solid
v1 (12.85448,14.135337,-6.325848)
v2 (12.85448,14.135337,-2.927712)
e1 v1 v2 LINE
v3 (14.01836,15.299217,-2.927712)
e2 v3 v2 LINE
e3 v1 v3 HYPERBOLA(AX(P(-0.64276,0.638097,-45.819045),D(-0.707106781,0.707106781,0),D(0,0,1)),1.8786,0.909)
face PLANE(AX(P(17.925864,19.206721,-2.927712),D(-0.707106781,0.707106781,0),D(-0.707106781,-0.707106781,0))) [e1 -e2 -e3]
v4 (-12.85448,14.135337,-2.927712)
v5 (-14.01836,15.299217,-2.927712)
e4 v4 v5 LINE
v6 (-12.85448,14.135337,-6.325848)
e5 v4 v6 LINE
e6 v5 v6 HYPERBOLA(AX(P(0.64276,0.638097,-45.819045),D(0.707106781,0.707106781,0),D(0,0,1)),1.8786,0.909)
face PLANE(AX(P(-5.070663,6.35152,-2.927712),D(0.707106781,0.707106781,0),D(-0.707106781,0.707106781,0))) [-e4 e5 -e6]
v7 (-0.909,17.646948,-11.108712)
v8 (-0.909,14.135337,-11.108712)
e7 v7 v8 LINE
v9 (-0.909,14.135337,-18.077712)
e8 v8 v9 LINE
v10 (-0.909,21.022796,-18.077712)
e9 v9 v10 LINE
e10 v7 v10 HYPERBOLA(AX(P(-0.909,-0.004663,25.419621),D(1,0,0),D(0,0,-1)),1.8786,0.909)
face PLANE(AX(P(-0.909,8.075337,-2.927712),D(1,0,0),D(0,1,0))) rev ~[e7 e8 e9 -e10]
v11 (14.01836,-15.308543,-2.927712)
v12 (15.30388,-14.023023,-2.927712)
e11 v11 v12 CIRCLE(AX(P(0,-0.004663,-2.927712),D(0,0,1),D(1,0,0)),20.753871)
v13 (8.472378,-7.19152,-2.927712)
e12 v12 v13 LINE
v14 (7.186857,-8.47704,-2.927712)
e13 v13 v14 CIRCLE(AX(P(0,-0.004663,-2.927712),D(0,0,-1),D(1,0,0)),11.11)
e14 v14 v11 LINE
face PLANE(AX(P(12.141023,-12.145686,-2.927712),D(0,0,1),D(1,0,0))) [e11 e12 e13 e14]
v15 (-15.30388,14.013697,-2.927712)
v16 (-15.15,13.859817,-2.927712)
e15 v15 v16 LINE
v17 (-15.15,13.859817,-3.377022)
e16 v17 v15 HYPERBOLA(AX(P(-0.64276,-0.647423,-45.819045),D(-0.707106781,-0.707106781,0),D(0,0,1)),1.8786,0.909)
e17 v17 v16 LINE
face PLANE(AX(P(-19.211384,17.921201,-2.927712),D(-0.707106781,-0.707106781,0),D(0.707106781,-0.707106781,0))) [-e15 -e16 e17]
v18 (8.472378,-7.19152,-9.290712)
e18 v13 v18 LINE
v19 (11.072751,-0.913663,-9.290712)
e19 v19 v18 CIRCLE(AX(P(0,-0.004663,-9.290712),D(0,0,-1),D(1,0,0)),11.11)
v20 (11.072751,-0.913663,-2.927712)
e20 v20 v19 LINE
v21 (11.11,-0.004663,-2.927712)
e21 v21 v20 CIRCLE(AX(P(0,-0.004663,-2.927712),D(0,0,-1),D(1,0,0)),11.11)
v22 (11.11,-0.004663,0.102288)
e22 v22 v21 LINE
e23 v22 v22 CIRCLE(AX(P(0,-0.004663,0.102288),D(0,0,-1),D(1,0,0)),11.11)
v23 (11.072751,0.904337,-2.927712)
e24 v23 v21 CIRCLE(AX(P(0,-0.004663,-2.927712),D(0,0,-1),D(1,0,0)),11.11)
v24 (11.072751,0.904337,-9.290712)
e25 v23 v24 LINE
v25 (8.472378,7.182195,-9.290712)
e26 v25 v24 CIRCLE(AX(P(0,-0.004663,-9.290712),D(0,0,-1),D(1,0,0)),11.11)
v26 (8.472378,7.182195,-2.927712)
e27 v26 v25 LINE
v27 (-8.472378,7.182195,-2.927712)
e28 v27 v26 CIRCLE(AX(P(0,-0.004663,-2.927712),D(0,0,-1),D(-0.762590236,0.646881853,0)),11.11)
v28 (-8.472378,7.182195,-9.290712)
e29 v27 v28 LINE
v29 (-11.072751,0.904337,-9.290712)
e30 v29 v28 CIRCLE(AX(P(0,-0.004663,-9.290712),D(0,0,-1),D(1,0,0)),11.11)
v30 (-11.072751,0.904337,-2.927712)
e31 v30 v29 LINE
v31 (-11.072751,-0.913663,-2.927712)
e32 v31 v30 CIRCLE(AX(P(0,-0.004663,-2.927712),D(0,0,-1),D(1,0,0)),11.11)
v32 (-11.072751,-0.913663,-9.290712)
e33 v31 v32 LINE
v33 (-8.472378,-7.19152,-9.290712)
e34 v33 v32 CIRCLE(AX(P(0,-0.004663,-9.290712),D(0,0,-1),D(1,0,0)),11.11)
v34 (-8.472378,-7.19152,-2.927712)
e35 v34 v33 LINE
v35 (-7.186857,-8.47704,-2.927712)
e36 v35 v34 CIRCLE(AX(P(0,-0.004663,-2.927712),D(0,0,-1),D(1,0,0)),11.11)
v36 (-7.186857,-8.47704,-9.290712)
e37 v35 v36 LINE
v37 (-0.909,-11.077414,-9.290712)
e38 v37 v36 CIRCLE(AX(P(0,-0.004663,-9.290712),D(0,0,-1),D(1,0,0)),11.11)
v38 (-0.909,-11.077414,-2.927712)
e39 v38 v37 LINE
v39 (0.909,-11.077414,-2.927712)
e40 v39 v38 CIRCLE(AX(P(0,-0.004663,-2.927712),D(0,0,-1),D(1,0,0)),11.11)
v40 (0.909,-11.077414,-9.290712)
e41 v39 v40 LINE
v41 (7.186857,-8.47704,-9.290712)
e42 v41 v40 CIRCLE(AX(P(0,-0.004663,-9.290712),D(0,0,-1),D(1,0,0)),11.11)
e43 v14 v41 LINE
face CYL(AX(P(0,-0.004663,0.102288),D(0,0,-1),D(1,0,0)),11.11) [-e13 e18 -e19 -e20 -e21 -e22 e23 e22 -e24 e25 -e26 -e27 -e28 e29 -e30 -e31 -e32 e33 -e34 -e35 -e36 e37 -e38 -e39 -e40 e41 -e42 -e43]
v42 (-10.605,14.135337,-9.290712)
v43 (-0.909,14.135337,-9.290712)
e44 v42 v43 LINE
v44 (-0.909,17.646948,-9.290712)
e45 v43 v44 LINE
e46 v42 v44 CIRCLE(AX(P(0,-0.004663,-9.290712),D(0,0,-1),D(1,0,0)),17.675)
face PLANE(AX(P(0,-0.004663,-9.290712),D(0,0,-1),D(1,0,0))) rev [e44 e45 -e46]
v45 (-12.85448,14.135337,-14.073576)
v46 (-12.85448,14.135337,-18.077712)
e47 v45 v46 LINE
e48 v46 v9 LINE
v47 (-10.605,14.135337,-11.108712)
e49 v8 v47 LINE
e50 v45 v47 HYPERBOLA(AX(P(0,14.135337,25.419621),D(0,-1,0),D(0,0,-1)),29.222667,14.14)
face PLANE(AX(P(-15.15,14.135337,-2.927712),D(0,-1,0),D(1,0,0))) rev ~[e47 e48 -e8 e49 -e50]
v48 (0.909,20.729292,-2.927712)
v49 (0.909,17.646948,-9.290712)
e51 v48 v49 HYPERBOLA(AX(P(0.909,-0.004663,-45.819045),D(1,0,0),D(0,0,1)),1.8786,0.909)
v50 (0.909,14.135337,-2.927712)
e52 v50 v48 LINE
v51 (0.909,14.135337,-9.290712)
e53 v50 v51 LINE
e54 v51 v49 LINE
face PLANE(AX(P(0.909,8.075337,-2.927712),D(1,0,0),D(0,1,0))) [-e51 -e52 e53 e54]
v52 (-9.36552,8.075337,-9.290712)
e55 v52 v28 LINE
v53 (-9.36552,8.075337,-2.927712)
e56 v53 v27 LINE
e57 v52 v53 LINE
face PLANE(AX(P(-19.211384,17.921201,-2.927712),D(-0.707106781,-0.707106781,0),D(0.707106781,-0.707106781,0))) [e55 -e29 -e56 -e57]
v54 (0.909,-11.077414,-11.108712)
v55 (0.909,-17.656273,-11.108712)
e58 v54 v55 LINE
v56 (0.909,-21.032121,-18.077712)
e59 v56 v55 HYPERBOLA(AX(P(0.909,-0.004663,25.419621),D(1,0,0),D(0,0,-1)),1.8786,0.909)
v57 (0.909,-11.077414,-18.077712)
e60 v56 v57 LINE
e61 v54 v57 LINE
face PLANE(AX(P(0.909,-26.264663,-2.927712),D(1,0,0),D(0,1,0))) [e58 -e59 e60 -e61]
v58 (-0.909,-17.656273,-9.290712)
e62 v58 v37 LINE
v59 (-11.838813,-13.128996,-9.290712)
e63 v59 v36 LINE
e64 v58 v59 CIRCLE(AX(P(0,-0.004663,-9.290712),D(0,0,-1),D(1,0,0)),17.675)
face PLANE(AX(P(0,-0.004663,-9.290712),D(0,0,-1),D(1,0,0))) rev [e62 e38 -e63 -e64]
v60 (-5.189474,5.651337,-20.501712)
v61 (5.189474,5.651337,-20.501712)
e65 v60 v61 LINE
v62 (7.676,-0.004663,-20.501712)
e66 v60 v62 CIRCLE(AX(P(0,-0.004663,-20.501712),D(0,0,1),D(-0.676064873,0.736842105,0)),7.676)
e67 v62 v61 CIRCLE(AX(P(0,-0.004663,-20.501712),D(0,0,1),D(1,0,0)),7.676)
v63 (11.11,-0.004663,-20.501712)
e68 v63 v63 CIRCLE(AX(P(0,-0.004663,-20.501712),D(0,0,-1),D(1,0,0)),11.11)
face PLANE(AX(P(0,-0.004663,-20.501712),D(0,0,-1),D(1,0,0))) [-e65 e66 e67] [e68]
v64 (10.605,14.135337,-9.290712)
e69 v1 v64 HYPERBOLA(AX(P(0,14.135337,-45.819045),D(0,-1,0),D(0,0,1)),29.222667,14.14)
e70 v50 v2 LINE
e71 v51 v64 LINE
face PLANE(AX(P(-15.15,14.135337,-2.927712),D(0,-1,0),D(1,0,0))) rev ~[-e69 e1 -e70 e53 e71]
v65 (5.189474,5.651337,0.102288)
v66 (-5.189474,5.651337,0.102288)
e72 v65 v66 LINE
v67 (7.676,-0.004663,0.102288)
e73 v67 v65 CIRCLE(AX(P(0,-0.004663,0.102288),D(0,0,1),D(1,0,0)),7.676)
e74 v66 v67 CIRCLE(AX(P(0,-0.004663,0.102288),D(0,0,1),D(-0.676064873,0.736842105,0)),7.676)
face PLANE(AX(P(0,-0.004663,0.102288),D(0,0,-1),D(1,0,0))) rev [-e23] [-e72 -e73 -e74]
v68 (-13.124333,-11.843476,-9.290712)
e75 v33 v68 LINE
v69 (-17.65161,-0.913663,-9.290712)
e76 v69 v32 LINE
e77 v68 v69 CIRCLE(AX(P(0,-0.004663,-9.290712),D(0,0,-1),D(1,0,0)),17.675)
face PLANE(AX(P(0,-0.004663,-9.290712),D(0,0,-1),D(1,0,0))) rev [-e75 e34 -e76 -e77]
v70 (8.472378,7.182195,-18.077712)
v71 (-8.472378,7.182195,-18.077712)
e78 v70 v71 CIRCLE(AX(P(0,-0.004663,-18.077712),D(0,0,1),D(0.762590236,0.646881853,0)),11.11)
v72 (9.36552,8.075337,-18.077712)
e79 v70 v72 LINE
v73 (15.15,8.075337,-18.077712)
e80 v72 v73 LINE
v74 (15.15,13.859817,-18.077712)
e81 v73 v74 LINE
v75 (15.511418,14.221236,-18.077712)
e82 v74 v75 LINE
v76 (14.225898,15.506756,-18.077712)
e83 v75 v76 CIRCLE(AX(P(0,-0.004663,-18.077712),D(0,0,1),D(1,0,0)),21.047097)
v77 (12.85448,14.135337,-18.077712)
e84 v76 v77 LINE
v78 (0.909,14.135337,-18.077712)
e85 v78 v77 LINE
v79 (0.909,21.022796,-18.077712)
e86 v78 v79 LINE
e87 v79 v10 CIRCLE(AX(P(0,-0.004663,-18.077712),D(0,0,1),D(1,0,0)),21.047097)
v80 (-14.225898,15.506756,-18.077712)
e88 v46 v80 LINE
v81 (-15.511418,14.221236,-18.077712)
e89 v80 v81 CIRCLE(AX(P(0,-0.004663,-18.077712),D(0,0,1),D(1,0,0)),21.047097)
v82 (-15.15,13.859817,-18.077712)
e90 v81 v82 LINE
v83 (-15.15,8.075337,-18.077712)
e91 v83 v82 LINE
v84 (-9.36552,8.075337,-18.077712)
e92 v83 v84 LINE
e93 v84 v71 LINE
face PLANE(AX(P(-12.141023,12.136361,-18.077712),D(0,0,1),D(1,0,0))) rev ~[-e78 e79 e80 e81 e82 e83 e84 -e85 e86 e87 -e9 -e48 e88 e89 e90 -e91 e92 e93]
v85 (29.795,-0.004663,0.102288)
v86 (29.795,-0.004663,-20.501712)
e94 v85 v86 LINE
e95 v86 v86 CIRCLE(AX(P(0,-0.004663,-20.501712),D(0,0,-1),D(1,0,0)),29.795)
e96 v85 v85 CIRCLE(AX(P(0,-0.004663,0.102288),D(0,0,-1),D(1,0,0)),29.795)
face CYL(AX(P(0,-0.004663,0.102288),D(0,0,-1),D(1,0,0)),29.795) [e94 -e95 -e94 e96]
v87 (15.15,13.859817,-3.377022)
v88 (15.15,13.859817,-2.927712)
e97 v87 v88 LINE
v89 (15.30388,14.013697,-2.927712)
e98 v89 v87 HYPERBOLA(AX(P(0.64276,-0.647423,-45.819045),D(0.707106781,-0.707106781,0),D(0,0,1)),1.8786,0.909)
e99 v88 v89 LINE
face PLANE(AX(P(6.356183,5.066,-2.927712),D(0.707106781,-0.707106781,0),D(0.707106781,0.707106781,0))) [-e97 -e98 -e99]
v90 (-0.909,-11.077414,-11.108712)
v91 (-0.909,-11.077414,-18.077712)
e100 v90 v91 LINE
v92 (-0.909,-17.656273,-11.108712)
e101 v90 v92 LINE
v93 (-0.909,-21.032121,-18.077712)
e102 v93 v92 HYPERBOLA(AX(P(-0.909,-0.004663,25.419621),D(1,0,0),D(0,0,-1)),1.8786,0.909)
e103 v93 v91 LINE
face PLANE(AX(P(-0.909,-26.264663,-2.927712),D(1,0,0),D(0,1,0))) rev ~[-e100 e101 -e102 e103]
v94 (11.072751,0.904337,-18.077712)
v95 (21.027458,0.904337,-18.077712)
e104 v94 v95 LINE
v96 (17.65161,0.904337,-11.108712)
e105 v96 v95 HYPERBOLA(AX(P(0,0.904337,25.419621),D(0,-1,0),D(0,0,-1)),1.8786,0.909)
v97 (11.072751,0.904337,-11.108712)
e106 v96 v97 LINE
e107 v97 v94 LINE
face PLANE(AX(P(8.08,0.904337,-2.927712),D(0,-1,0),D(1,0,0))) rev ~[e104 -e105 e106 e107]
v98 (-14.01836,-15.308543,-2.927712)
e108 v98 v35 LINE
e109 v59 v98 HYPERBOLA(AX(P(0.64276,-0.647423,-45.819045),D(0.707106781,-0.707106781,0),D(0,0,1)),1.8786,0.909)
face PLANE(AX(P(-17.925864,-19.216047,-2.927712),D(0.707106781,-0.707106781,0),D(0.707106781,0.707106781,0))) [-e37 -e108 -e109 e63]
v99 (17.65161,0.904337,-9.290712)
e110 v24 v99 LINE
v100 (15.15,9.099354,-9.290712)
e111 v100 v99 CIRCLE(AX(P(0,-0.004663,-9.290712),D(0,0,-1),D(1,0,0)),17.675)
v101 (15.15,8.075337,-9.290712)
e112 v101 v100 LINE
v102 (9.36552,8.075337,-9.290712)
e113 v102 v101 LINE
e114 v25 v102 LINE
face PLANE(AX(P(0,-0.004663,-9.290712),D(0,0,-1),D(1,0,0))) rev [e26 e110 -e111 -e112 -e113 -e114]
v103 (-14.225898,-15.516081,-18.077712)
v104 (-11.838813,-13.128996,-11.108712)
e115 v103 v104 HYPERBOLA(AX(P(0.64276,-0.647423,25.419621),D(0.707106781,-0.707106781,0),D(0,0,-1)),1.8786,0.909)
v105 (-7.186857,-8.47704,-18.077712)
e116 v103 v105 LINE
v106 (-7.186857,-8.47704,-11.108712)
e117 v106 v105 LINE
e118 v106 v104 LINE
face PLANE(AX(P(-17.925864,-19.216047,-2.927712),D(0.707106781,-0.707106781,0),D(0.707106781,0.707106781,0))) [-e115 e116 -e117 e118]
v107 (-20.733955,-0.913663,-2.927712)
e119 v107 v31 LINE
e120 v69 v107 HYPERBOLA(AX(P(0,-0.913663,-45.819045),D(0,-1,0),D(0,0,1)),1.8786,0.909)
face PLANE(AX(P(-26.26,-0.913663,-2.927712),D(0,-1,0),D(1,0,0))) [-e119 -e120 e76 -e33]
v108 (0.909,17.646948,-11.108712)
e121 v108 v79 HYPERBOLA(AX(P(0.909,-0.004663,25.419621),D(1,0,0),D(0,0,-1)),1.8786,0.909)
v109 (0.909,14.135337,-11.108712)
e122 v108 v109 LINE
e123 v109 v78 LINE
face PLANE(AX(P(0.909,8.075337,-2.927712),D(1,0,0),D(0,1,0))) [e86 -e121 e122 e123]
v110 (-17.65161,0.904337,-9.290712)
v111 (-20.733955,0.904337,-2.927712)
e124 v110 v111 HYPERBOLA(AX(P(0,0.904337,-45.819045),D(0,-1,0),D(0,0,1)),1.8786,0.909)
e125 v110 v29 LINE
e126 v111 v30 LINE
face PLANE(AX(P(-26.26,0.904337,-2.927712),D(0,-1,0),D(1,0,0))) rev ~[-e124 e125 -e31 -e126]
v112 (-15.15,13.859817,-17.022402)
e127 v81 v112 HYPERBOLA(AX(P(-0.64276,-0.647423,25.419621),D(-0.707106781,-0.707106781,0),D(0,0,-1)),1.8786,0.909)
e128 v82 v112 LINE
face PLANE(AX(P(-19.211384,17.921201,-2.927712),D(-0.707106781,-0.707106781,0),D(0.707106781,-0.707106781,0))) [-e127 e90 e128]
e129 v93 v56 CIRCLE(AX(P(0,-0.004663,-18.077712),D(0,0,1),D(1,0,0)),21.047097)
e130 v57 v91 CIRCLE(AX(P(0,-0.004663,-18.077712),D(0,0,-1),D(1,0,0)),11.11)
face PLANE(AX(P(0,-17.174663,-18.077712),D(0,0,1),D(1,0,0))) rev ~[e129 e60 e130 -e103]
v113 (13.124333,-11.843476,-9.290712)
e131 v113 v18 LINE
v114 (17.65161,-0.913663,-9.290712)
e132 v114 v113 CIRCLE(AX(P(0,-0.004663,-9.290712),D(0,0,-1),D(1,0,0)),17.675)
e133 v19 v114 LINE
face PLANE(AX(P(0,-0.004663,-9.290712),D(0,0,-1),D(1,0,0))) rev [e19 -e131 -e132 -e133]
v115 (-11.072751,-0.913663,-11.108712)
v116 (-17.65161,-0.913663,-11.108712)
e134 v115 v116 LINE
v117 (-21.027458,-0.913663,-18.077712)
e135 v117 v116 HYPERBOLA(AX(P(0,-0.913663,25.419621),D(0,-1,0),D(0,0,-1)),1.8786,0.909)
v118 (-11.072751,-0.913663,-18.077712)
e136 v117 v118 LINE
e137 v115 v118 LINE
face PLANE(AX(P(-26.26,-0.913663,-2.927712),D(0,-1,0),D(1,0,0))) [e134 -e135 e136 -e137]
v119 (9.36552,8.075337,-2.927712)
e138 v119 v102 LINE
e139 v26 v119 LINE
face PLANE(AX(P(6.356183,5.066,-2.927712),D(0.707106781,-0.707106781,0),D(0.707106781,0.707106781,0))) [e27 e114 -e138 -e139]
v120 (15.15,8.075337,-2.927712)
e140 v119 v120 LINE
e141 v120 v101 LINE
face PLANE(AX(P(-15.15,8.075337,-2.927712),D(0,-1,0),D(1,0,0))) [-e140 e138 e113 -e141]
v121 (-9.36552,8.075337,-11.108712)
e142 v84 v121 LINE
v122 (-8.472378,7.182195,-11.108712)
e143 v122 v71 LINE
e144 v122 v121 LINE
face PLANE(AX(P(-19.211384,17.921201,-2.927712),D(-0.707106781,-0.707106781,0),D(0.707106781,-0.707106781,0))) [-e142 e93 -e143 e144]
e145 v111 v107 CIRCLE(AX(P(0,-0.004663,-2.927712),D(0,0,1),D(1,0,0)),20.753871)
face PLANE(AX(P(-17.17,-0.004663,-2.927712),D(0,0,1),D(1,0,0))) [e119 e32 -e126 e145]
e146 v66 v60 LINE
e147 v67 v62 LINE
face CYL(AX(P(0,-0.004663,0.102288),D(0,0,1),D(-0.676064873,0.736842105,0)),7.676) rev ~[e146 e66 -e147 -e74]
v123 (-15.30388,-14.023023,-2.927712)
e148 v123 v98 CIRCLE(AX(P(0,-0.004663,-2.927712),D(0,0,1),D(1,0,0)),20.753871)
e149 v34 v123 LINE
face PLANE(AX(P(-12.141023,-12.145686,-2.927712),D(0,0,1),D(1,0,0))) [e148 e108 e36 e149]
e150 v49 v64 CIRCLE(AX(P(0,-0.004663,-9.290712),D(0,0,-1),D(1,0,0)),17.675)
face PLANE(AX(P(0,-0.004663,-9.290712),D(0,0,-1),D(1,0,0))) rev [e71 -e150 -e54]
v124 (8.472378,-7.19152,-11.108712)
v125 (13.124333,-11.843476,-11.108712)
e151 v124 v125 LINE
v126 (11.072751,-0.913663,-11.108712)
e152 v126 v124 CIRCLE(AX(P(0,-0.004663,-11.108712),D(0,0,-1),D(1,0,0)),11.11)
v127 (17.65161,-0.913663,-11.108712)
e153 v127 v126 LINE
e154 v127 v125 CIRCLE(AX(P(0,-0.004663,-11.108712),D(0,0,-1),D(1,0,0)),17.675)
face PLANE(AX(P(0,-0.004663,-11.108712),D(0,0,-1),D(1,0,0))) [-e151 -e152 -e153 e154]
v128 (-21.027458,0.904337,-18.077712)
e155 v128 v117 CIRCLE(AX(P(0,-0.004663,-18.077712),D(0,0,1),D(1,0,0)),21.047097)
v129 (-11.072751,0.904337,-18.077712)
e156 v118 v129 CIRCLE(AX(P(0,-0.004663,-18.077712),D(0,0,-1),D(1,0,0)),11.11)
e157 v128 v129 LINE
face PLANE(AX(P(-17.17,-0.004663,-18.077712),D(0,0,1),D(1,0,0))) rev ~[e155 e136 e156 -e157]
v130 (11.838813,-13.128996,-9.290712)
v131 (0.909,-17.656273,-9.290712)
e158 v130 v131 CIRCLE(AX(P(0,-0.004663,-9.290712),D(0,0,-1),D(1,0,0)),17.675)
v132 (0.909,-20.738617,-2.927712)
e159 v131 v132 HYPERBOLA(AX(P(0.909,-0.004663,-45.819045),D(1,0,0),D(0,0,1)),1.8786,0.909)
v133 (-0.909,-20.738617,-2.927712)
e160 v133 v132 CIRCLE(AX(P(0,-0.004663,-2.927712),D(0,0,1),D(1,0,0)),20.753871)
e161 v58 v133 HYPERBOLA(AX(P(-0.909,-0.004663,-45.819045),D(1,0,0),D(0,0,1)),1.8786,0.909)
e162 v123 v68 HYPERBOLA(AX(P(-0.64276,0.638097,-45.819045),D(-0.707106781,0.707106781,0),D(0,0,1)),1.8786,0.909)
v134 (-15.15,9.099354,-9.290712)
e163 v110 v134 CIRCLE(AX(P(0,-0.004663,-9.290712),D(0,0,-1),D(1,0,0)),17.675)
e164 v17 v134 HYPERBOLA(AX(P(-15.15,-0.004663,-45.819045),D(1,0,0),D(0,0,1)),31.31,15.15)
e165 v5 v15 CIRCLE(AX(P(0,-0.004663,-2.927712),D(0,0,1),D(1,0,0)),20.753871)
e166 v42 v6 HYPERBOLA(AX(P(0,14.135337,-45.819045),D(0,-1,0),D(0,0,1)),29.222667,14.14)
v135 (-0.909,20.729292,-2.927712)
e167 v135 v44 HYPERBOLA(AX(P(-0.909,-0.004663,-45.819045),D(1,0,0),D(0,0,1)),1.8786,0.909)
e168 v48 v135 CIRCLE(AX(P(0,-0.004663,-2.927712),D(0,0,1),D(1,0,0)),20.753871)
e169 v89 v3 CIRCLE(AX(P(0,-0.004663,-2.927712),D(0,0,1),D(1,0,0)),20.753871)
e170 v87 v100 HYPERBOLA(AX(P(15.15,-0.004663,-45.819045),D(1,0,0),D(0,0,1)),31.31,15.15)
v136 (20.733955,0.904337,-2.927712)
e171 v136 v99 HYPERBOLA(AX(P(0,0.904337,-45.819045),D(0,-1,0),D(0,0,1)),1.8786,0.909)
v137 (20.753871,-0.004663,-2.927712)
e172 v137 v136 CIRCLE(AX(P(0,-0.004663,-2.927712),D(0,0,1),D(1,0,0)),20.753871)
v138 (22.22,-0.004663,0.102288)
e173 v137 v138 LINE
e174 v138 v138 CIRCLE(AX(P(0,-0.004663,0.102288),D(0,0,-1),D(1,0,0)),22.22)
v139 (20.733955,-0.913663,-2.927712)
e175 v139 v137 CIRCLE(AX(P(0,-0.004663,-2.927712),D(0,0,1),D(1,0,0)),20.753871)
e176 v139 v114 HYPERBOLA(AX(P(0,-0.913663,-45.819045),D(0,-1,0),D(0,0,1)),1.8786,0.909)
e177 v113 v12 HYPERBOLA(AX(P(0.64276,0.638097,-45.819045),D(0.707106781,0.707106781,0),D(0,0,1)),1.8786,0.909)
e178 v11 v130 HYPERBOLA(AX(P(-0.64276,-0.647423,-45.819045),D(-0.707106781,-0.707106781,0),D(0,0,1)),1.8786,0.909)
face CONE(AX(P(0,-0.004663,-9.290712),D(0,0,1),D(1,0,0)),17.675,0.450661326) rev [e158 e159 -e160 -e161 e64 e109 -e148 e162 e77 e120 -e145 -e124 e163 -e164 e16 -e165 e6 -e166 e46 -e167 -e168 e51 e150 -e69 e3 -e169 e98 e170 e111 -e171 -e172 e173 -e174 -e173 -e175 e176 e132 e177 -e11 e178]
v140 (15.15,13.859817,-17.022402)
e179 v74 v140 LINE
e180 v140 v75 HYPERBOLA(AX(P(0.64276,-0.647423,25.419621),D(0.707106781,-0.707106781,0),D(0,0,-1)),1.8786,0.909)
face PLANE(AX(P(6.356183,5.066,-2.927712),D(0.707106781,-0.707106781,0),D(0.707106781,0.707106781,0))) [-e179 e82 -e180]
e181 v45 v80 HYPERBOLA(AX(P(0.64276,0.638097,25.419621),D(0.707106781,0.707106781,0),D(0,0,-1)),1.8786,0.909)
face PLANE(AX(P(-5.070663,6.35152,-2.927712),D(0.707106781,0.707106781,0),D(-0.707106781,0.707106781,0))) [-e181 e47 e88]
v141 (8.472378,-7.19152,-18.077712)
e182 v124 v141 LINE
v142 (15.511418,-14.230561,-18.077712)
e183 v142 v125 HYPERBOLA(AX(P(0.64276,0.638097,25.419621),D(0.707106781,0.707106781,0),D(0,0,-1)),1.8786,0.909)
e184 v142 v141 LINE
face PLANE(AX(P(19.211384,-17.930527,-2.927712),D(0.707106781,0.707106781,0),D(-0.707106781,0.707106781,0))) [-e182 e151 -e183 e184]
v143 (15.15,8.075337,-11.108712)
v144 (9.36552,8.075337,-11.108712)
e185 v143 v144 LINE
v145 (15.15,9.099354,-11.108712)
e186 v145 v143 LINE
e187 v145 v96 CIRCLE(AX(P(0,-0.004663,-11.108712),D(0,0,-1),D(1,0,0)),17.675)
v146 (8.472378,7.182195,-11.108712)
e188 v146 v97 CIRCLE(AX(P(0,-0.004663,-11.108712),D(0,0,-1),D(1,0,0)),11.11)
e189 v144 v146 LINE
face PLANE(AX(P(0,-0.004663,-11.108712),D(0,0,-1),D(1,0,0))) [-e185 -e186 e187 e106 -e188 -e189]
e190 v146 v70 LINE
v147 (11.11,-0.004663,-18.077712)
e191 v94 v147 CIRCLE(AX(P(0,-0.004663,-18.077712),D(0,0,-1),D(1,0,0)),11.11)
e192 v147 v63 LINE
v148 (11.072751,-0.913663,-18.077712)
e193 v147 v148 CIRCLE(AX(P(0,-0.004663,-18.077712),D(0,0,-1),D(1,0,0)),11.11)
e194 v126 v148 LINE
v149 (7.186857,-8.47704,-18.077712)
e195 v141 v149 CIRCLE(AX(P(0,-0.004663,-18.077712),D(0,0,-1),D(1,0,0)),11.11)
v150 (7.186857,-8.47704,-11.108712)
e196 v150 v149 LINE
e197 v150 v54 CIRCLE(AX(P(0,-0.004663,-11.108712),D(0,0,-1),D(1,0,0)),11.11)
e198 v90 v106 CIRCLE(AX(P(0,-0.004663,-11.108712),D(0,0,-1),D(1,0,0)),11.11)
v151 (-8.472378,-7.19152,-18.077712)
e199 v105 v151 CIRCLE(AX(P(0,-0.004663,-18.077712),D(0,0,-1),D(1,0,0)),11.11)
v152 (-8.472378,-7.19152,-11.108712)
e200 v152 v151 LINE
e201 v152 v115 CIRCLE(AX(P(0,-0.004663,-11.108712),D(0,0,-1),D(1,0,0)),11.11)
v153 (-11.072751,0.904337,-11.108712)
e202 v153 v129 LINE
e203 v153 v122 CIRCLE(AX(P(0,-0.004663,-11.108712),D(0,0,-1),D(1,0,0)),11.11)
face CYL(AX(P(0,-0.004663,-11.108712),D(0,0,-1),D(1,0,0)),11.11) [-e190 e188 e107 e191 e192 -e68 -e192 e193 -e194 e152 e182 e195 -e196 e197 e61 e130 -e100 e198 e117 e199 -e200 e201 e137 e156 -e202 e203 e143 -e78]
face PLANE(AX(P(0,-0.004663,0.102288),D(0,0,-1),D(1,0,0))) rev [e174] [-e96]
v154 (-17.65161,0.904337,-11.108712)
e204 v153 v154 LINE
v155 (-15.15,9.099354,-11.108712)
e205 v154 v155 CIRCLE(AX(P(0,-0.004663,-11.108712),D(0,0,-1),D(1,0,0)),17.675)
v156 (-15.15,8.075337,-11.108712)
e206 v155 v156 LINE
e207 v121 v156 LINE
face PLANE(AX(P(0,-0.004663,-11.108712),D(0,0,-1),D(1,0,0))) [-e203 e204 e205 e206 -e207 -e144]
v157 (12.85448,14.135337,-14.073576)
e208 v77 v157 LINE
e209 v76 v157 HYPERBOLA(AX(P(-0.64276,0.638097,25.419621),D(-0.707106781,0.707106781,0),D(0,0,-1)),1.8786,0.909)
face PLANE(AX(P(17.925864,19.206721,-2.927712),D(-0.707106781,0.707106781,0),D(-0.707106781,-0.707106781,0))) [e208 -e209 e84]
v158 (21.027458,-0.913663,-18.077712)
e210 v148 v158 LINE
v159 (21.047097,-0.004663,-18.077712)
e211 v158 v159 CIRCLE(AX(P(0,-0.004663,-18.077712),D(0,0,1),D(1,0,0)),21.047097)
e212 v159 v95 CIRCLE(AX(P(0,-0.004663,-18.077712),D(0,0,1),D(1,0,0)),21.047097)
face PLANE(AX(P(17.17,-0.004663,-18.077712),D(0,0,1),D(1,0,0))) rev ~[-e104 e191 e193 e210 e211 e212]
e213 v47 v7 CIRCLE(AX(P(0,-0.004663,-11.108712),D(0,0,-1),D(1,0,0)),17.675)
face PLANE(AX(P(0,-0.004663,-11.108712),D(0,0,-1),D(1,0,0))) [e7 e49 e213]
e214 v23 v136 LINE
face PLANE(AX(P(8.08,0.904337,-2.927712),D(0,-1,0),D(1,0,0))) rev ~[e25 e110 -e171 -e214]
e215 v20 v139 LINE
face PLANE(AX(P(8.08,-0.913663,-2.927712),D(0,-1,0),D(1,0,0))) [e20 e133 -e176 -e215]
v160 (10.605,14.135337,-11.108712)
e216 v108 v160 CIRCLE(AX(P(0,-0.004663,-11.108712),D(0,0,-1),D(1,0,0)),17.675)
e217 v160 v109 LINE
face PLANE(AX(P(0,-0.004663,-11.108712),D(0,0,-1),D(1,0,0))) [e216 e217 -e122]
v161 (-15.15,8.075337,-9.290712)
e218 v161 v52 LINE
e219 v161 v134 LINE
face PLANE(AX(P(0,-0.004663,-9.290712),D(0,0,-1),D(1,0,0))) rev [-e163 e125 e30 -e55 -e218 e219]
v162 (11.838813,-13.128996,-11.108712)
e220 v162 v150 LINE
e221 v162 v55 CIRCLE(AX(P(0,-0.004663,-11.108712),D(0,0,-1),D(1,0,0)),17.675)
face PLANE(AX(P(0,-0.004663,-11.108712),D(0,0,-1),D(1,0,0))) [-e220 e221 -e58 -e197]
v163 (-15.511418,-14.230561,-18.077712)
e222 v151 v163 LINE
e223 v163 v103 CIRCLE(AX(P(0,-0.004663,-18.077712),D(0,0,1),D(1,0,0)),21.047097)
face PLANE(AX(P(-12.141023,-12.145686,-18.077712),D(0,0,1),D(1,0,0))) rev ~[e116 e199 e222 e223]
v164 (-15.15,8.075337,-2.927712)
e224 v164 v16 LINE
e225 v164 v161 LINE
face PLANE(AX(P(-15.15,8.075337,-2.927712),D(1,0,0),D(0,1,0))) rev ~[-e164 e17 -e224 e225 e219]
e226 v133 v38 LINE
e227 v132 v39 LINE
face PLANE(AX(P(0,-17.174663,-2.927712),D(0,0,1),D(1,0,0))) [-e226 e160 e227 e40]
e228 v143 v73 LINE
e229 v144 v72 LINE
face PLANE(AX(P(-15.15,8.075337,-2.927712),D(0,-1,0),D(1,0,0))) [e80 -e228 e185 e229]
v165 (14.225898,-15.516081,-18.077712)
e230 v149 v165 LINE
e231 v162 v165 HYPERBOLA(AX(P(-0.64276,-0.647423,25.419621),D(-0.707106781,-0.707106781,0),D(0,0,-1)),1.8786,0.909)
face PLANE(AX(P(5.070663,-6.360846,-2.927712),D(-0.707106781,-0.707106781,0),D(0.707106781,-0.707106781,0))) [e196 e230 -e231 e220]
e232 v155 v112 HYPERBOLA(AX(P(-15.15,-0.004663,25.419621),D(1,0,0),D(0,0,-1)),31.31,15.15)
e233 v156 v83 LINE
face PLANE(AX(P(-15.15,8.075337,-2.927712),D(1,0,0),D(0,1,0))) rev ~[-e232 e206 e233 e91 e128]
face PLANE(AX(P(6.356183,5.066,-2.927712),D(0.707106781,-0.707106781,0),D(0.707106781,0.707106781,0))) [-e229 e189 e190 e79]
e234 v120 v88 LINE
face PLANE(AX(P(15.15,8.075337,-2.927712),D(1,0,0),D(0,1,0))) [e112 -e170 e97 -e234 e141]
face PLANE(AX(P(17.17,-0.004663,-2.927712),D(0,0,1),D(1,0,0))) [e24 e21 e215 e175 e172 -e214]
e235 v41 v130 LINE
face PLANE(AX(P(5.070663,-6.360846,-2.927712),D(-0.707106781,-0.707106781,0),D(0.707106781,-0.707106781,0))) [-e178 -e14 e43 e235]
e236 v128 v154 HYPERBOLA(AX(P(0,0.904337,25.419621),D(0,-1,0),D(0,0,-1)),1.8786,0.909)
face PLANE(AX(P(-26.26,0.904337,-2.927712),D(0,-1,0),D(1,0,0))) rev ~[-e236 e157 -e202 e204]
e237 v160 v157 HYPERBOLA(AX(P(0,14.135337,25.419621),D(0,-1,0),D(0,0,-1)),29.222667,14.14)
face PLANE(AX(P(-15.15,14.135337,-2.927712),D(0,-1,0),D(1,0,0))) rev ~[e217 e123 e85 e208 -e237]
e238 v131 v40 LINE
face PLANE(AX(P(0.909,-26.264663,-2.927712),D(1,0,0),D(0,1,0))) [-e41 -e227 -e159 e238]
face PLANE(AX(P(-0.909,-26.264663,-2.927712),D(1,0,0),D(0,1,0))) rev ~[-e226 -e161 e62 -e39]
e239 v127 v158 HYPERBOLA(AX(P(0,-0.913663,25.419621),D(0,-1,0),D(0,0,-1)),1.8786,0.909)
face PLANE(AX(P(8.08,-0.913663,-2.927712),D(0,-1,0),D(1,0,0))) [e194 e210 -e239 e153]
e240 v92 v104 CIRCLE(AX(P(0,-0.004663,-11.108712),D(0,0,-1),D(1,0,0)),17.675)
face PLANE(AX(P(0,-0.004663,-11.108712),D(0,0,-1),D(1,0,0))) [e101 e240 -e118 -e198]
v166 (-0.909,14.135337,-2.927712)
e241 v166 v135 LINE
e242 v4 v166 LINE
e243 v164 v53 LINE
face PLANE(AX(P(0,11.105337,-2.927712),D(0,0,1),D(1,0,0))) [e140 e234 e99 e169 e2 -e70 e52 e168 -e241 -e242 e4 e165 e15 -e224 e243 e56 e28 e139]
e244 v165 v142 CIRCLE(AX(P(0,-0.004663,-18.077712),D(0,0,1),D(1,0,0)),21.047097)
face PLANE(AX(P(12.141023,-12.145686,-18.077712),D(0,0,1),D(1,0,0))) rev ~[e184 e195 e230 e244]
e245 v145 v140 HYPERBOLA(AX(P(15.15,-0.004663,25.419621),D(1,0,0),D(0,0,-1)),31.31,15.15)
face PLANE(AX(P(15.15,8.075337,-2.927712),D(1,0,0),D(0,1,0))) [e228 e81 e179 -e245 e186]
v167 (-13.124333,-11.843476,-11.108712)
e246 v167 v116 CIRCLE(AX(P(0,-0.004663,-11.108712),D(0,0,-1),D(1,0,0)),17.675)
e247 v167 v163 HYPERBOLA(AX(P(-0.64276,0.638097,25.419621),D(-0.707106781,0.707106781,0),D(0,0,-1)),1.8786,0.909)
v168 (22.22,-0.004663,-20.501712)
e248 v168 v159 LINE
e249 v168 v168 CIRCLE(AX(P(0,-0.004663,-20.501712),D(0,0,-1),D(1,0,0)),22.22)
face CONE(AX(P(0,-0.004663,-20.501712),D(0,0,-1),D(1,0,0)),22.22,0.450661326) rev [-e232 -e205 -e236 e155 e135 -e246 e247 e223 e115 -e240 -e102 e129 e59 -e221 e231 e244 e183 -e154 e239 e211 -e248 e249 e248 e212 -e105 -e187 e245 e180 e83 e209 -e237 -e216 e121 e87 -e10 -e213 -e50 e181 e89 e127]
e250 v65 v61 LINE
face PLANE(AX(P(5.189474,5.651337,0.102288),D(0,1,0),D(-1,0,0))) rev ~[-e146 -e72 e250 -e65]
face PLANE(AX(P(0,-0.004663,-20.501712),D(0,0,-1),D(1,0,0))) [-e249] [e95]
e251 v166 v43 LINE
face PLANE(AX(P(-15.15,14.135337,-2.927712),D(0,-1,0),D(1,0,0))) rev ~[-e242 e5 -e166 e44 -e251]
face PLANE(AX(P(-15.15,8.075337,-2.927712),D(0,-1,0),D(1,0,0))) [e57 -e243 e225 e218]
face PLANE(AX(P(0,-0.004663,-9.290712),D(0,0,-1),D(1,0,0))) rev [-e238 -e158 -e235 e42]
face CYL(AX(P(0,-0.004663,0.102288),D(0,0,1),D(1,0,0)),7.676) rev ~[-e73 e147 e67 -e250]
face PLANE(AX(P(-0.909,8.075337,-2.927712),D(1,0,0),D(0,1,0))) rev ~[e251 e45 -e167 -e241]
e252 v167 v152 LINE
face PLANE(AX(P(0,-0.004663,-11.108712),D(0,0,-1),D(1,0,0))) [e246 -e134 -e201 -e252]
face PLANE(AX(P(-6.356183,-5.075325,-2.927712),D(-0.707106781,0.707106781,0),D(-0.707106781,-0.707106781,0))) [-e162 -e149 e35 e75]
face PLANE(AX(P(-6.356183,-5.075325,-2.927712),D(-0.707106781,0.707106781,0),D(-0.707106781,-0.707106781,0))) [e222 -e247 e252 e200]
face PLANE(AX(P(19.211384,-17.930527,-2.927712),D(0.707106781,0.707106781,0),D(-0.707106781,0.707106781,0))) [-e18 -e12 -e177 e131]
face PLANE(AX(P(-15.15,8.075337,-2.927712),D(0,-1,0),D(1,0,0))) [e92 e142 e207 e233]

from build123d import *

# Parameters (mm, degrees)
SKETCH_2_R          = 5
CUT_EXTRUDE_1_DEPTH = 47.439853574
SKETCH_3_W          = 1.8
SKETCH_3_H          = 18
SKETCH_3_W_2        = 18
SKETCH_3_H_2        = 1.8
EXTRUDE_1_DEPTH     = 15
SKETCH_4_W          = 30
SKETCH_4_H          = 6
EXTRUDE_2_DEPTH     = 15
SCALE_1_SCALE       = 1.01


with BuildPart() as part:
    # Эскиз1 → Повернуть1 (revolve)
    with BuildSketch(Plane(origin=(0, 0, 0), x_dir=(1, 0, 0), z_dir=(0, 1, 0)), mode=Mode.PRIVATE) as revolve_1_sk:
        Polygon((-5, 0), (-11, 0), (-11, 9.3), (-17.5, 9.3), (-22, 0), (-29.5, 0), (-29.5, 20.4), (-22, 20.4), (-17.5, 11.1), (-11, 11.1), (-11, 20.4), (-5, 20.4), align=None)
    revolve(revolve_1_sk.sketch.rotate(Axis((0, 0, 0), (0, 0, -1)), 180), axis=Axis((0, 0, 0), (0, 0, -1)))

    # Эскиз2 → Вырез-Вытянуть1 (cut, through all)
    with BuildSketch(Plane.XY):
        with BuildLine():
            Line((5.138093031, 5.6), (-5.138093031, 5.6))
            ThreePointArc((-5.138093031, 5.6), (-3.058634741, -6.957352479), (7.6, 0))
            ThreePointArc((7.6, 0), (6.957352479, 3.058634741), (5.138093031, 5.6))
        make_face()
        Circle(SKETCH_2_R, mode=Mode.SUBTRACT)
    extrude(amount=-CUT_EXTRUDE_1_DEPTH, mode=Mode.SUBTRACT)

    # Эскиз3 → Бобышка-Вытянуть1 (add)
    with BuildSketch(Plane.XY.offset(-3)):
        Polygon((5.020458146, 6.293250353), (6.293250353, 5.020458146), (19.021172414, 17.748380208), (17.748380208, 19.021172414), align=None)
        with Locations((0, 17)):
            Rectangle(SKETCH_3_W, SKETCH_3_H)
        with Locations((17, 0)):
            Rectangle(SKETCH_3_W_2, SKETCH_3_H_2)
        Polygon((6.293250353, -5.020458146), (5.020458146, -6.293250353), (17.748380208, -19.021172414), (19.021172414, -17.748380208), align=None)
        with Locations((0, -17)):
            Rectangle(SKETCH_3_W, SKETCH_3_H)
        Polygon((-5.020458146, -6.293250353), (-6.293250353, -5.020458146), (-19.021172414, -17.748380208), (-17.748380208, -19.021172414), align=None)
        with Locations((-17, 0)):
            Rectangle(SKETCH_3_W_2, SKETCH_3_H_2)
        Polygon((-6.293250353, 5.020458146), (-5.020458146, 6.293250353), (-17.748380208, 19.021172414), (-19.021172414, 17.748380208), align=None)
    extrude(amount=-EXTRUDE_1_DEPTH)

    # Эскиз4 → Бобышка-Вытянуть2 (add)
    with BuildSketch(Plane.XY.offset(-3)):
        with Locations((0, 11)):
            Rectangle(SKETCH_4_W, SKETCH_4_H)
    extrude(amount=-EXTRUDE_2_DEPTH)


with BuildPart() as part_1:
    # Масштаб1: scaled about (0, 0.46627192, -10.228796233)
    add(part.part.scale(SCALE_1_SCALE).moved(Location((0, -0.004662719, 0.102287962))))


solid = part_1.part
